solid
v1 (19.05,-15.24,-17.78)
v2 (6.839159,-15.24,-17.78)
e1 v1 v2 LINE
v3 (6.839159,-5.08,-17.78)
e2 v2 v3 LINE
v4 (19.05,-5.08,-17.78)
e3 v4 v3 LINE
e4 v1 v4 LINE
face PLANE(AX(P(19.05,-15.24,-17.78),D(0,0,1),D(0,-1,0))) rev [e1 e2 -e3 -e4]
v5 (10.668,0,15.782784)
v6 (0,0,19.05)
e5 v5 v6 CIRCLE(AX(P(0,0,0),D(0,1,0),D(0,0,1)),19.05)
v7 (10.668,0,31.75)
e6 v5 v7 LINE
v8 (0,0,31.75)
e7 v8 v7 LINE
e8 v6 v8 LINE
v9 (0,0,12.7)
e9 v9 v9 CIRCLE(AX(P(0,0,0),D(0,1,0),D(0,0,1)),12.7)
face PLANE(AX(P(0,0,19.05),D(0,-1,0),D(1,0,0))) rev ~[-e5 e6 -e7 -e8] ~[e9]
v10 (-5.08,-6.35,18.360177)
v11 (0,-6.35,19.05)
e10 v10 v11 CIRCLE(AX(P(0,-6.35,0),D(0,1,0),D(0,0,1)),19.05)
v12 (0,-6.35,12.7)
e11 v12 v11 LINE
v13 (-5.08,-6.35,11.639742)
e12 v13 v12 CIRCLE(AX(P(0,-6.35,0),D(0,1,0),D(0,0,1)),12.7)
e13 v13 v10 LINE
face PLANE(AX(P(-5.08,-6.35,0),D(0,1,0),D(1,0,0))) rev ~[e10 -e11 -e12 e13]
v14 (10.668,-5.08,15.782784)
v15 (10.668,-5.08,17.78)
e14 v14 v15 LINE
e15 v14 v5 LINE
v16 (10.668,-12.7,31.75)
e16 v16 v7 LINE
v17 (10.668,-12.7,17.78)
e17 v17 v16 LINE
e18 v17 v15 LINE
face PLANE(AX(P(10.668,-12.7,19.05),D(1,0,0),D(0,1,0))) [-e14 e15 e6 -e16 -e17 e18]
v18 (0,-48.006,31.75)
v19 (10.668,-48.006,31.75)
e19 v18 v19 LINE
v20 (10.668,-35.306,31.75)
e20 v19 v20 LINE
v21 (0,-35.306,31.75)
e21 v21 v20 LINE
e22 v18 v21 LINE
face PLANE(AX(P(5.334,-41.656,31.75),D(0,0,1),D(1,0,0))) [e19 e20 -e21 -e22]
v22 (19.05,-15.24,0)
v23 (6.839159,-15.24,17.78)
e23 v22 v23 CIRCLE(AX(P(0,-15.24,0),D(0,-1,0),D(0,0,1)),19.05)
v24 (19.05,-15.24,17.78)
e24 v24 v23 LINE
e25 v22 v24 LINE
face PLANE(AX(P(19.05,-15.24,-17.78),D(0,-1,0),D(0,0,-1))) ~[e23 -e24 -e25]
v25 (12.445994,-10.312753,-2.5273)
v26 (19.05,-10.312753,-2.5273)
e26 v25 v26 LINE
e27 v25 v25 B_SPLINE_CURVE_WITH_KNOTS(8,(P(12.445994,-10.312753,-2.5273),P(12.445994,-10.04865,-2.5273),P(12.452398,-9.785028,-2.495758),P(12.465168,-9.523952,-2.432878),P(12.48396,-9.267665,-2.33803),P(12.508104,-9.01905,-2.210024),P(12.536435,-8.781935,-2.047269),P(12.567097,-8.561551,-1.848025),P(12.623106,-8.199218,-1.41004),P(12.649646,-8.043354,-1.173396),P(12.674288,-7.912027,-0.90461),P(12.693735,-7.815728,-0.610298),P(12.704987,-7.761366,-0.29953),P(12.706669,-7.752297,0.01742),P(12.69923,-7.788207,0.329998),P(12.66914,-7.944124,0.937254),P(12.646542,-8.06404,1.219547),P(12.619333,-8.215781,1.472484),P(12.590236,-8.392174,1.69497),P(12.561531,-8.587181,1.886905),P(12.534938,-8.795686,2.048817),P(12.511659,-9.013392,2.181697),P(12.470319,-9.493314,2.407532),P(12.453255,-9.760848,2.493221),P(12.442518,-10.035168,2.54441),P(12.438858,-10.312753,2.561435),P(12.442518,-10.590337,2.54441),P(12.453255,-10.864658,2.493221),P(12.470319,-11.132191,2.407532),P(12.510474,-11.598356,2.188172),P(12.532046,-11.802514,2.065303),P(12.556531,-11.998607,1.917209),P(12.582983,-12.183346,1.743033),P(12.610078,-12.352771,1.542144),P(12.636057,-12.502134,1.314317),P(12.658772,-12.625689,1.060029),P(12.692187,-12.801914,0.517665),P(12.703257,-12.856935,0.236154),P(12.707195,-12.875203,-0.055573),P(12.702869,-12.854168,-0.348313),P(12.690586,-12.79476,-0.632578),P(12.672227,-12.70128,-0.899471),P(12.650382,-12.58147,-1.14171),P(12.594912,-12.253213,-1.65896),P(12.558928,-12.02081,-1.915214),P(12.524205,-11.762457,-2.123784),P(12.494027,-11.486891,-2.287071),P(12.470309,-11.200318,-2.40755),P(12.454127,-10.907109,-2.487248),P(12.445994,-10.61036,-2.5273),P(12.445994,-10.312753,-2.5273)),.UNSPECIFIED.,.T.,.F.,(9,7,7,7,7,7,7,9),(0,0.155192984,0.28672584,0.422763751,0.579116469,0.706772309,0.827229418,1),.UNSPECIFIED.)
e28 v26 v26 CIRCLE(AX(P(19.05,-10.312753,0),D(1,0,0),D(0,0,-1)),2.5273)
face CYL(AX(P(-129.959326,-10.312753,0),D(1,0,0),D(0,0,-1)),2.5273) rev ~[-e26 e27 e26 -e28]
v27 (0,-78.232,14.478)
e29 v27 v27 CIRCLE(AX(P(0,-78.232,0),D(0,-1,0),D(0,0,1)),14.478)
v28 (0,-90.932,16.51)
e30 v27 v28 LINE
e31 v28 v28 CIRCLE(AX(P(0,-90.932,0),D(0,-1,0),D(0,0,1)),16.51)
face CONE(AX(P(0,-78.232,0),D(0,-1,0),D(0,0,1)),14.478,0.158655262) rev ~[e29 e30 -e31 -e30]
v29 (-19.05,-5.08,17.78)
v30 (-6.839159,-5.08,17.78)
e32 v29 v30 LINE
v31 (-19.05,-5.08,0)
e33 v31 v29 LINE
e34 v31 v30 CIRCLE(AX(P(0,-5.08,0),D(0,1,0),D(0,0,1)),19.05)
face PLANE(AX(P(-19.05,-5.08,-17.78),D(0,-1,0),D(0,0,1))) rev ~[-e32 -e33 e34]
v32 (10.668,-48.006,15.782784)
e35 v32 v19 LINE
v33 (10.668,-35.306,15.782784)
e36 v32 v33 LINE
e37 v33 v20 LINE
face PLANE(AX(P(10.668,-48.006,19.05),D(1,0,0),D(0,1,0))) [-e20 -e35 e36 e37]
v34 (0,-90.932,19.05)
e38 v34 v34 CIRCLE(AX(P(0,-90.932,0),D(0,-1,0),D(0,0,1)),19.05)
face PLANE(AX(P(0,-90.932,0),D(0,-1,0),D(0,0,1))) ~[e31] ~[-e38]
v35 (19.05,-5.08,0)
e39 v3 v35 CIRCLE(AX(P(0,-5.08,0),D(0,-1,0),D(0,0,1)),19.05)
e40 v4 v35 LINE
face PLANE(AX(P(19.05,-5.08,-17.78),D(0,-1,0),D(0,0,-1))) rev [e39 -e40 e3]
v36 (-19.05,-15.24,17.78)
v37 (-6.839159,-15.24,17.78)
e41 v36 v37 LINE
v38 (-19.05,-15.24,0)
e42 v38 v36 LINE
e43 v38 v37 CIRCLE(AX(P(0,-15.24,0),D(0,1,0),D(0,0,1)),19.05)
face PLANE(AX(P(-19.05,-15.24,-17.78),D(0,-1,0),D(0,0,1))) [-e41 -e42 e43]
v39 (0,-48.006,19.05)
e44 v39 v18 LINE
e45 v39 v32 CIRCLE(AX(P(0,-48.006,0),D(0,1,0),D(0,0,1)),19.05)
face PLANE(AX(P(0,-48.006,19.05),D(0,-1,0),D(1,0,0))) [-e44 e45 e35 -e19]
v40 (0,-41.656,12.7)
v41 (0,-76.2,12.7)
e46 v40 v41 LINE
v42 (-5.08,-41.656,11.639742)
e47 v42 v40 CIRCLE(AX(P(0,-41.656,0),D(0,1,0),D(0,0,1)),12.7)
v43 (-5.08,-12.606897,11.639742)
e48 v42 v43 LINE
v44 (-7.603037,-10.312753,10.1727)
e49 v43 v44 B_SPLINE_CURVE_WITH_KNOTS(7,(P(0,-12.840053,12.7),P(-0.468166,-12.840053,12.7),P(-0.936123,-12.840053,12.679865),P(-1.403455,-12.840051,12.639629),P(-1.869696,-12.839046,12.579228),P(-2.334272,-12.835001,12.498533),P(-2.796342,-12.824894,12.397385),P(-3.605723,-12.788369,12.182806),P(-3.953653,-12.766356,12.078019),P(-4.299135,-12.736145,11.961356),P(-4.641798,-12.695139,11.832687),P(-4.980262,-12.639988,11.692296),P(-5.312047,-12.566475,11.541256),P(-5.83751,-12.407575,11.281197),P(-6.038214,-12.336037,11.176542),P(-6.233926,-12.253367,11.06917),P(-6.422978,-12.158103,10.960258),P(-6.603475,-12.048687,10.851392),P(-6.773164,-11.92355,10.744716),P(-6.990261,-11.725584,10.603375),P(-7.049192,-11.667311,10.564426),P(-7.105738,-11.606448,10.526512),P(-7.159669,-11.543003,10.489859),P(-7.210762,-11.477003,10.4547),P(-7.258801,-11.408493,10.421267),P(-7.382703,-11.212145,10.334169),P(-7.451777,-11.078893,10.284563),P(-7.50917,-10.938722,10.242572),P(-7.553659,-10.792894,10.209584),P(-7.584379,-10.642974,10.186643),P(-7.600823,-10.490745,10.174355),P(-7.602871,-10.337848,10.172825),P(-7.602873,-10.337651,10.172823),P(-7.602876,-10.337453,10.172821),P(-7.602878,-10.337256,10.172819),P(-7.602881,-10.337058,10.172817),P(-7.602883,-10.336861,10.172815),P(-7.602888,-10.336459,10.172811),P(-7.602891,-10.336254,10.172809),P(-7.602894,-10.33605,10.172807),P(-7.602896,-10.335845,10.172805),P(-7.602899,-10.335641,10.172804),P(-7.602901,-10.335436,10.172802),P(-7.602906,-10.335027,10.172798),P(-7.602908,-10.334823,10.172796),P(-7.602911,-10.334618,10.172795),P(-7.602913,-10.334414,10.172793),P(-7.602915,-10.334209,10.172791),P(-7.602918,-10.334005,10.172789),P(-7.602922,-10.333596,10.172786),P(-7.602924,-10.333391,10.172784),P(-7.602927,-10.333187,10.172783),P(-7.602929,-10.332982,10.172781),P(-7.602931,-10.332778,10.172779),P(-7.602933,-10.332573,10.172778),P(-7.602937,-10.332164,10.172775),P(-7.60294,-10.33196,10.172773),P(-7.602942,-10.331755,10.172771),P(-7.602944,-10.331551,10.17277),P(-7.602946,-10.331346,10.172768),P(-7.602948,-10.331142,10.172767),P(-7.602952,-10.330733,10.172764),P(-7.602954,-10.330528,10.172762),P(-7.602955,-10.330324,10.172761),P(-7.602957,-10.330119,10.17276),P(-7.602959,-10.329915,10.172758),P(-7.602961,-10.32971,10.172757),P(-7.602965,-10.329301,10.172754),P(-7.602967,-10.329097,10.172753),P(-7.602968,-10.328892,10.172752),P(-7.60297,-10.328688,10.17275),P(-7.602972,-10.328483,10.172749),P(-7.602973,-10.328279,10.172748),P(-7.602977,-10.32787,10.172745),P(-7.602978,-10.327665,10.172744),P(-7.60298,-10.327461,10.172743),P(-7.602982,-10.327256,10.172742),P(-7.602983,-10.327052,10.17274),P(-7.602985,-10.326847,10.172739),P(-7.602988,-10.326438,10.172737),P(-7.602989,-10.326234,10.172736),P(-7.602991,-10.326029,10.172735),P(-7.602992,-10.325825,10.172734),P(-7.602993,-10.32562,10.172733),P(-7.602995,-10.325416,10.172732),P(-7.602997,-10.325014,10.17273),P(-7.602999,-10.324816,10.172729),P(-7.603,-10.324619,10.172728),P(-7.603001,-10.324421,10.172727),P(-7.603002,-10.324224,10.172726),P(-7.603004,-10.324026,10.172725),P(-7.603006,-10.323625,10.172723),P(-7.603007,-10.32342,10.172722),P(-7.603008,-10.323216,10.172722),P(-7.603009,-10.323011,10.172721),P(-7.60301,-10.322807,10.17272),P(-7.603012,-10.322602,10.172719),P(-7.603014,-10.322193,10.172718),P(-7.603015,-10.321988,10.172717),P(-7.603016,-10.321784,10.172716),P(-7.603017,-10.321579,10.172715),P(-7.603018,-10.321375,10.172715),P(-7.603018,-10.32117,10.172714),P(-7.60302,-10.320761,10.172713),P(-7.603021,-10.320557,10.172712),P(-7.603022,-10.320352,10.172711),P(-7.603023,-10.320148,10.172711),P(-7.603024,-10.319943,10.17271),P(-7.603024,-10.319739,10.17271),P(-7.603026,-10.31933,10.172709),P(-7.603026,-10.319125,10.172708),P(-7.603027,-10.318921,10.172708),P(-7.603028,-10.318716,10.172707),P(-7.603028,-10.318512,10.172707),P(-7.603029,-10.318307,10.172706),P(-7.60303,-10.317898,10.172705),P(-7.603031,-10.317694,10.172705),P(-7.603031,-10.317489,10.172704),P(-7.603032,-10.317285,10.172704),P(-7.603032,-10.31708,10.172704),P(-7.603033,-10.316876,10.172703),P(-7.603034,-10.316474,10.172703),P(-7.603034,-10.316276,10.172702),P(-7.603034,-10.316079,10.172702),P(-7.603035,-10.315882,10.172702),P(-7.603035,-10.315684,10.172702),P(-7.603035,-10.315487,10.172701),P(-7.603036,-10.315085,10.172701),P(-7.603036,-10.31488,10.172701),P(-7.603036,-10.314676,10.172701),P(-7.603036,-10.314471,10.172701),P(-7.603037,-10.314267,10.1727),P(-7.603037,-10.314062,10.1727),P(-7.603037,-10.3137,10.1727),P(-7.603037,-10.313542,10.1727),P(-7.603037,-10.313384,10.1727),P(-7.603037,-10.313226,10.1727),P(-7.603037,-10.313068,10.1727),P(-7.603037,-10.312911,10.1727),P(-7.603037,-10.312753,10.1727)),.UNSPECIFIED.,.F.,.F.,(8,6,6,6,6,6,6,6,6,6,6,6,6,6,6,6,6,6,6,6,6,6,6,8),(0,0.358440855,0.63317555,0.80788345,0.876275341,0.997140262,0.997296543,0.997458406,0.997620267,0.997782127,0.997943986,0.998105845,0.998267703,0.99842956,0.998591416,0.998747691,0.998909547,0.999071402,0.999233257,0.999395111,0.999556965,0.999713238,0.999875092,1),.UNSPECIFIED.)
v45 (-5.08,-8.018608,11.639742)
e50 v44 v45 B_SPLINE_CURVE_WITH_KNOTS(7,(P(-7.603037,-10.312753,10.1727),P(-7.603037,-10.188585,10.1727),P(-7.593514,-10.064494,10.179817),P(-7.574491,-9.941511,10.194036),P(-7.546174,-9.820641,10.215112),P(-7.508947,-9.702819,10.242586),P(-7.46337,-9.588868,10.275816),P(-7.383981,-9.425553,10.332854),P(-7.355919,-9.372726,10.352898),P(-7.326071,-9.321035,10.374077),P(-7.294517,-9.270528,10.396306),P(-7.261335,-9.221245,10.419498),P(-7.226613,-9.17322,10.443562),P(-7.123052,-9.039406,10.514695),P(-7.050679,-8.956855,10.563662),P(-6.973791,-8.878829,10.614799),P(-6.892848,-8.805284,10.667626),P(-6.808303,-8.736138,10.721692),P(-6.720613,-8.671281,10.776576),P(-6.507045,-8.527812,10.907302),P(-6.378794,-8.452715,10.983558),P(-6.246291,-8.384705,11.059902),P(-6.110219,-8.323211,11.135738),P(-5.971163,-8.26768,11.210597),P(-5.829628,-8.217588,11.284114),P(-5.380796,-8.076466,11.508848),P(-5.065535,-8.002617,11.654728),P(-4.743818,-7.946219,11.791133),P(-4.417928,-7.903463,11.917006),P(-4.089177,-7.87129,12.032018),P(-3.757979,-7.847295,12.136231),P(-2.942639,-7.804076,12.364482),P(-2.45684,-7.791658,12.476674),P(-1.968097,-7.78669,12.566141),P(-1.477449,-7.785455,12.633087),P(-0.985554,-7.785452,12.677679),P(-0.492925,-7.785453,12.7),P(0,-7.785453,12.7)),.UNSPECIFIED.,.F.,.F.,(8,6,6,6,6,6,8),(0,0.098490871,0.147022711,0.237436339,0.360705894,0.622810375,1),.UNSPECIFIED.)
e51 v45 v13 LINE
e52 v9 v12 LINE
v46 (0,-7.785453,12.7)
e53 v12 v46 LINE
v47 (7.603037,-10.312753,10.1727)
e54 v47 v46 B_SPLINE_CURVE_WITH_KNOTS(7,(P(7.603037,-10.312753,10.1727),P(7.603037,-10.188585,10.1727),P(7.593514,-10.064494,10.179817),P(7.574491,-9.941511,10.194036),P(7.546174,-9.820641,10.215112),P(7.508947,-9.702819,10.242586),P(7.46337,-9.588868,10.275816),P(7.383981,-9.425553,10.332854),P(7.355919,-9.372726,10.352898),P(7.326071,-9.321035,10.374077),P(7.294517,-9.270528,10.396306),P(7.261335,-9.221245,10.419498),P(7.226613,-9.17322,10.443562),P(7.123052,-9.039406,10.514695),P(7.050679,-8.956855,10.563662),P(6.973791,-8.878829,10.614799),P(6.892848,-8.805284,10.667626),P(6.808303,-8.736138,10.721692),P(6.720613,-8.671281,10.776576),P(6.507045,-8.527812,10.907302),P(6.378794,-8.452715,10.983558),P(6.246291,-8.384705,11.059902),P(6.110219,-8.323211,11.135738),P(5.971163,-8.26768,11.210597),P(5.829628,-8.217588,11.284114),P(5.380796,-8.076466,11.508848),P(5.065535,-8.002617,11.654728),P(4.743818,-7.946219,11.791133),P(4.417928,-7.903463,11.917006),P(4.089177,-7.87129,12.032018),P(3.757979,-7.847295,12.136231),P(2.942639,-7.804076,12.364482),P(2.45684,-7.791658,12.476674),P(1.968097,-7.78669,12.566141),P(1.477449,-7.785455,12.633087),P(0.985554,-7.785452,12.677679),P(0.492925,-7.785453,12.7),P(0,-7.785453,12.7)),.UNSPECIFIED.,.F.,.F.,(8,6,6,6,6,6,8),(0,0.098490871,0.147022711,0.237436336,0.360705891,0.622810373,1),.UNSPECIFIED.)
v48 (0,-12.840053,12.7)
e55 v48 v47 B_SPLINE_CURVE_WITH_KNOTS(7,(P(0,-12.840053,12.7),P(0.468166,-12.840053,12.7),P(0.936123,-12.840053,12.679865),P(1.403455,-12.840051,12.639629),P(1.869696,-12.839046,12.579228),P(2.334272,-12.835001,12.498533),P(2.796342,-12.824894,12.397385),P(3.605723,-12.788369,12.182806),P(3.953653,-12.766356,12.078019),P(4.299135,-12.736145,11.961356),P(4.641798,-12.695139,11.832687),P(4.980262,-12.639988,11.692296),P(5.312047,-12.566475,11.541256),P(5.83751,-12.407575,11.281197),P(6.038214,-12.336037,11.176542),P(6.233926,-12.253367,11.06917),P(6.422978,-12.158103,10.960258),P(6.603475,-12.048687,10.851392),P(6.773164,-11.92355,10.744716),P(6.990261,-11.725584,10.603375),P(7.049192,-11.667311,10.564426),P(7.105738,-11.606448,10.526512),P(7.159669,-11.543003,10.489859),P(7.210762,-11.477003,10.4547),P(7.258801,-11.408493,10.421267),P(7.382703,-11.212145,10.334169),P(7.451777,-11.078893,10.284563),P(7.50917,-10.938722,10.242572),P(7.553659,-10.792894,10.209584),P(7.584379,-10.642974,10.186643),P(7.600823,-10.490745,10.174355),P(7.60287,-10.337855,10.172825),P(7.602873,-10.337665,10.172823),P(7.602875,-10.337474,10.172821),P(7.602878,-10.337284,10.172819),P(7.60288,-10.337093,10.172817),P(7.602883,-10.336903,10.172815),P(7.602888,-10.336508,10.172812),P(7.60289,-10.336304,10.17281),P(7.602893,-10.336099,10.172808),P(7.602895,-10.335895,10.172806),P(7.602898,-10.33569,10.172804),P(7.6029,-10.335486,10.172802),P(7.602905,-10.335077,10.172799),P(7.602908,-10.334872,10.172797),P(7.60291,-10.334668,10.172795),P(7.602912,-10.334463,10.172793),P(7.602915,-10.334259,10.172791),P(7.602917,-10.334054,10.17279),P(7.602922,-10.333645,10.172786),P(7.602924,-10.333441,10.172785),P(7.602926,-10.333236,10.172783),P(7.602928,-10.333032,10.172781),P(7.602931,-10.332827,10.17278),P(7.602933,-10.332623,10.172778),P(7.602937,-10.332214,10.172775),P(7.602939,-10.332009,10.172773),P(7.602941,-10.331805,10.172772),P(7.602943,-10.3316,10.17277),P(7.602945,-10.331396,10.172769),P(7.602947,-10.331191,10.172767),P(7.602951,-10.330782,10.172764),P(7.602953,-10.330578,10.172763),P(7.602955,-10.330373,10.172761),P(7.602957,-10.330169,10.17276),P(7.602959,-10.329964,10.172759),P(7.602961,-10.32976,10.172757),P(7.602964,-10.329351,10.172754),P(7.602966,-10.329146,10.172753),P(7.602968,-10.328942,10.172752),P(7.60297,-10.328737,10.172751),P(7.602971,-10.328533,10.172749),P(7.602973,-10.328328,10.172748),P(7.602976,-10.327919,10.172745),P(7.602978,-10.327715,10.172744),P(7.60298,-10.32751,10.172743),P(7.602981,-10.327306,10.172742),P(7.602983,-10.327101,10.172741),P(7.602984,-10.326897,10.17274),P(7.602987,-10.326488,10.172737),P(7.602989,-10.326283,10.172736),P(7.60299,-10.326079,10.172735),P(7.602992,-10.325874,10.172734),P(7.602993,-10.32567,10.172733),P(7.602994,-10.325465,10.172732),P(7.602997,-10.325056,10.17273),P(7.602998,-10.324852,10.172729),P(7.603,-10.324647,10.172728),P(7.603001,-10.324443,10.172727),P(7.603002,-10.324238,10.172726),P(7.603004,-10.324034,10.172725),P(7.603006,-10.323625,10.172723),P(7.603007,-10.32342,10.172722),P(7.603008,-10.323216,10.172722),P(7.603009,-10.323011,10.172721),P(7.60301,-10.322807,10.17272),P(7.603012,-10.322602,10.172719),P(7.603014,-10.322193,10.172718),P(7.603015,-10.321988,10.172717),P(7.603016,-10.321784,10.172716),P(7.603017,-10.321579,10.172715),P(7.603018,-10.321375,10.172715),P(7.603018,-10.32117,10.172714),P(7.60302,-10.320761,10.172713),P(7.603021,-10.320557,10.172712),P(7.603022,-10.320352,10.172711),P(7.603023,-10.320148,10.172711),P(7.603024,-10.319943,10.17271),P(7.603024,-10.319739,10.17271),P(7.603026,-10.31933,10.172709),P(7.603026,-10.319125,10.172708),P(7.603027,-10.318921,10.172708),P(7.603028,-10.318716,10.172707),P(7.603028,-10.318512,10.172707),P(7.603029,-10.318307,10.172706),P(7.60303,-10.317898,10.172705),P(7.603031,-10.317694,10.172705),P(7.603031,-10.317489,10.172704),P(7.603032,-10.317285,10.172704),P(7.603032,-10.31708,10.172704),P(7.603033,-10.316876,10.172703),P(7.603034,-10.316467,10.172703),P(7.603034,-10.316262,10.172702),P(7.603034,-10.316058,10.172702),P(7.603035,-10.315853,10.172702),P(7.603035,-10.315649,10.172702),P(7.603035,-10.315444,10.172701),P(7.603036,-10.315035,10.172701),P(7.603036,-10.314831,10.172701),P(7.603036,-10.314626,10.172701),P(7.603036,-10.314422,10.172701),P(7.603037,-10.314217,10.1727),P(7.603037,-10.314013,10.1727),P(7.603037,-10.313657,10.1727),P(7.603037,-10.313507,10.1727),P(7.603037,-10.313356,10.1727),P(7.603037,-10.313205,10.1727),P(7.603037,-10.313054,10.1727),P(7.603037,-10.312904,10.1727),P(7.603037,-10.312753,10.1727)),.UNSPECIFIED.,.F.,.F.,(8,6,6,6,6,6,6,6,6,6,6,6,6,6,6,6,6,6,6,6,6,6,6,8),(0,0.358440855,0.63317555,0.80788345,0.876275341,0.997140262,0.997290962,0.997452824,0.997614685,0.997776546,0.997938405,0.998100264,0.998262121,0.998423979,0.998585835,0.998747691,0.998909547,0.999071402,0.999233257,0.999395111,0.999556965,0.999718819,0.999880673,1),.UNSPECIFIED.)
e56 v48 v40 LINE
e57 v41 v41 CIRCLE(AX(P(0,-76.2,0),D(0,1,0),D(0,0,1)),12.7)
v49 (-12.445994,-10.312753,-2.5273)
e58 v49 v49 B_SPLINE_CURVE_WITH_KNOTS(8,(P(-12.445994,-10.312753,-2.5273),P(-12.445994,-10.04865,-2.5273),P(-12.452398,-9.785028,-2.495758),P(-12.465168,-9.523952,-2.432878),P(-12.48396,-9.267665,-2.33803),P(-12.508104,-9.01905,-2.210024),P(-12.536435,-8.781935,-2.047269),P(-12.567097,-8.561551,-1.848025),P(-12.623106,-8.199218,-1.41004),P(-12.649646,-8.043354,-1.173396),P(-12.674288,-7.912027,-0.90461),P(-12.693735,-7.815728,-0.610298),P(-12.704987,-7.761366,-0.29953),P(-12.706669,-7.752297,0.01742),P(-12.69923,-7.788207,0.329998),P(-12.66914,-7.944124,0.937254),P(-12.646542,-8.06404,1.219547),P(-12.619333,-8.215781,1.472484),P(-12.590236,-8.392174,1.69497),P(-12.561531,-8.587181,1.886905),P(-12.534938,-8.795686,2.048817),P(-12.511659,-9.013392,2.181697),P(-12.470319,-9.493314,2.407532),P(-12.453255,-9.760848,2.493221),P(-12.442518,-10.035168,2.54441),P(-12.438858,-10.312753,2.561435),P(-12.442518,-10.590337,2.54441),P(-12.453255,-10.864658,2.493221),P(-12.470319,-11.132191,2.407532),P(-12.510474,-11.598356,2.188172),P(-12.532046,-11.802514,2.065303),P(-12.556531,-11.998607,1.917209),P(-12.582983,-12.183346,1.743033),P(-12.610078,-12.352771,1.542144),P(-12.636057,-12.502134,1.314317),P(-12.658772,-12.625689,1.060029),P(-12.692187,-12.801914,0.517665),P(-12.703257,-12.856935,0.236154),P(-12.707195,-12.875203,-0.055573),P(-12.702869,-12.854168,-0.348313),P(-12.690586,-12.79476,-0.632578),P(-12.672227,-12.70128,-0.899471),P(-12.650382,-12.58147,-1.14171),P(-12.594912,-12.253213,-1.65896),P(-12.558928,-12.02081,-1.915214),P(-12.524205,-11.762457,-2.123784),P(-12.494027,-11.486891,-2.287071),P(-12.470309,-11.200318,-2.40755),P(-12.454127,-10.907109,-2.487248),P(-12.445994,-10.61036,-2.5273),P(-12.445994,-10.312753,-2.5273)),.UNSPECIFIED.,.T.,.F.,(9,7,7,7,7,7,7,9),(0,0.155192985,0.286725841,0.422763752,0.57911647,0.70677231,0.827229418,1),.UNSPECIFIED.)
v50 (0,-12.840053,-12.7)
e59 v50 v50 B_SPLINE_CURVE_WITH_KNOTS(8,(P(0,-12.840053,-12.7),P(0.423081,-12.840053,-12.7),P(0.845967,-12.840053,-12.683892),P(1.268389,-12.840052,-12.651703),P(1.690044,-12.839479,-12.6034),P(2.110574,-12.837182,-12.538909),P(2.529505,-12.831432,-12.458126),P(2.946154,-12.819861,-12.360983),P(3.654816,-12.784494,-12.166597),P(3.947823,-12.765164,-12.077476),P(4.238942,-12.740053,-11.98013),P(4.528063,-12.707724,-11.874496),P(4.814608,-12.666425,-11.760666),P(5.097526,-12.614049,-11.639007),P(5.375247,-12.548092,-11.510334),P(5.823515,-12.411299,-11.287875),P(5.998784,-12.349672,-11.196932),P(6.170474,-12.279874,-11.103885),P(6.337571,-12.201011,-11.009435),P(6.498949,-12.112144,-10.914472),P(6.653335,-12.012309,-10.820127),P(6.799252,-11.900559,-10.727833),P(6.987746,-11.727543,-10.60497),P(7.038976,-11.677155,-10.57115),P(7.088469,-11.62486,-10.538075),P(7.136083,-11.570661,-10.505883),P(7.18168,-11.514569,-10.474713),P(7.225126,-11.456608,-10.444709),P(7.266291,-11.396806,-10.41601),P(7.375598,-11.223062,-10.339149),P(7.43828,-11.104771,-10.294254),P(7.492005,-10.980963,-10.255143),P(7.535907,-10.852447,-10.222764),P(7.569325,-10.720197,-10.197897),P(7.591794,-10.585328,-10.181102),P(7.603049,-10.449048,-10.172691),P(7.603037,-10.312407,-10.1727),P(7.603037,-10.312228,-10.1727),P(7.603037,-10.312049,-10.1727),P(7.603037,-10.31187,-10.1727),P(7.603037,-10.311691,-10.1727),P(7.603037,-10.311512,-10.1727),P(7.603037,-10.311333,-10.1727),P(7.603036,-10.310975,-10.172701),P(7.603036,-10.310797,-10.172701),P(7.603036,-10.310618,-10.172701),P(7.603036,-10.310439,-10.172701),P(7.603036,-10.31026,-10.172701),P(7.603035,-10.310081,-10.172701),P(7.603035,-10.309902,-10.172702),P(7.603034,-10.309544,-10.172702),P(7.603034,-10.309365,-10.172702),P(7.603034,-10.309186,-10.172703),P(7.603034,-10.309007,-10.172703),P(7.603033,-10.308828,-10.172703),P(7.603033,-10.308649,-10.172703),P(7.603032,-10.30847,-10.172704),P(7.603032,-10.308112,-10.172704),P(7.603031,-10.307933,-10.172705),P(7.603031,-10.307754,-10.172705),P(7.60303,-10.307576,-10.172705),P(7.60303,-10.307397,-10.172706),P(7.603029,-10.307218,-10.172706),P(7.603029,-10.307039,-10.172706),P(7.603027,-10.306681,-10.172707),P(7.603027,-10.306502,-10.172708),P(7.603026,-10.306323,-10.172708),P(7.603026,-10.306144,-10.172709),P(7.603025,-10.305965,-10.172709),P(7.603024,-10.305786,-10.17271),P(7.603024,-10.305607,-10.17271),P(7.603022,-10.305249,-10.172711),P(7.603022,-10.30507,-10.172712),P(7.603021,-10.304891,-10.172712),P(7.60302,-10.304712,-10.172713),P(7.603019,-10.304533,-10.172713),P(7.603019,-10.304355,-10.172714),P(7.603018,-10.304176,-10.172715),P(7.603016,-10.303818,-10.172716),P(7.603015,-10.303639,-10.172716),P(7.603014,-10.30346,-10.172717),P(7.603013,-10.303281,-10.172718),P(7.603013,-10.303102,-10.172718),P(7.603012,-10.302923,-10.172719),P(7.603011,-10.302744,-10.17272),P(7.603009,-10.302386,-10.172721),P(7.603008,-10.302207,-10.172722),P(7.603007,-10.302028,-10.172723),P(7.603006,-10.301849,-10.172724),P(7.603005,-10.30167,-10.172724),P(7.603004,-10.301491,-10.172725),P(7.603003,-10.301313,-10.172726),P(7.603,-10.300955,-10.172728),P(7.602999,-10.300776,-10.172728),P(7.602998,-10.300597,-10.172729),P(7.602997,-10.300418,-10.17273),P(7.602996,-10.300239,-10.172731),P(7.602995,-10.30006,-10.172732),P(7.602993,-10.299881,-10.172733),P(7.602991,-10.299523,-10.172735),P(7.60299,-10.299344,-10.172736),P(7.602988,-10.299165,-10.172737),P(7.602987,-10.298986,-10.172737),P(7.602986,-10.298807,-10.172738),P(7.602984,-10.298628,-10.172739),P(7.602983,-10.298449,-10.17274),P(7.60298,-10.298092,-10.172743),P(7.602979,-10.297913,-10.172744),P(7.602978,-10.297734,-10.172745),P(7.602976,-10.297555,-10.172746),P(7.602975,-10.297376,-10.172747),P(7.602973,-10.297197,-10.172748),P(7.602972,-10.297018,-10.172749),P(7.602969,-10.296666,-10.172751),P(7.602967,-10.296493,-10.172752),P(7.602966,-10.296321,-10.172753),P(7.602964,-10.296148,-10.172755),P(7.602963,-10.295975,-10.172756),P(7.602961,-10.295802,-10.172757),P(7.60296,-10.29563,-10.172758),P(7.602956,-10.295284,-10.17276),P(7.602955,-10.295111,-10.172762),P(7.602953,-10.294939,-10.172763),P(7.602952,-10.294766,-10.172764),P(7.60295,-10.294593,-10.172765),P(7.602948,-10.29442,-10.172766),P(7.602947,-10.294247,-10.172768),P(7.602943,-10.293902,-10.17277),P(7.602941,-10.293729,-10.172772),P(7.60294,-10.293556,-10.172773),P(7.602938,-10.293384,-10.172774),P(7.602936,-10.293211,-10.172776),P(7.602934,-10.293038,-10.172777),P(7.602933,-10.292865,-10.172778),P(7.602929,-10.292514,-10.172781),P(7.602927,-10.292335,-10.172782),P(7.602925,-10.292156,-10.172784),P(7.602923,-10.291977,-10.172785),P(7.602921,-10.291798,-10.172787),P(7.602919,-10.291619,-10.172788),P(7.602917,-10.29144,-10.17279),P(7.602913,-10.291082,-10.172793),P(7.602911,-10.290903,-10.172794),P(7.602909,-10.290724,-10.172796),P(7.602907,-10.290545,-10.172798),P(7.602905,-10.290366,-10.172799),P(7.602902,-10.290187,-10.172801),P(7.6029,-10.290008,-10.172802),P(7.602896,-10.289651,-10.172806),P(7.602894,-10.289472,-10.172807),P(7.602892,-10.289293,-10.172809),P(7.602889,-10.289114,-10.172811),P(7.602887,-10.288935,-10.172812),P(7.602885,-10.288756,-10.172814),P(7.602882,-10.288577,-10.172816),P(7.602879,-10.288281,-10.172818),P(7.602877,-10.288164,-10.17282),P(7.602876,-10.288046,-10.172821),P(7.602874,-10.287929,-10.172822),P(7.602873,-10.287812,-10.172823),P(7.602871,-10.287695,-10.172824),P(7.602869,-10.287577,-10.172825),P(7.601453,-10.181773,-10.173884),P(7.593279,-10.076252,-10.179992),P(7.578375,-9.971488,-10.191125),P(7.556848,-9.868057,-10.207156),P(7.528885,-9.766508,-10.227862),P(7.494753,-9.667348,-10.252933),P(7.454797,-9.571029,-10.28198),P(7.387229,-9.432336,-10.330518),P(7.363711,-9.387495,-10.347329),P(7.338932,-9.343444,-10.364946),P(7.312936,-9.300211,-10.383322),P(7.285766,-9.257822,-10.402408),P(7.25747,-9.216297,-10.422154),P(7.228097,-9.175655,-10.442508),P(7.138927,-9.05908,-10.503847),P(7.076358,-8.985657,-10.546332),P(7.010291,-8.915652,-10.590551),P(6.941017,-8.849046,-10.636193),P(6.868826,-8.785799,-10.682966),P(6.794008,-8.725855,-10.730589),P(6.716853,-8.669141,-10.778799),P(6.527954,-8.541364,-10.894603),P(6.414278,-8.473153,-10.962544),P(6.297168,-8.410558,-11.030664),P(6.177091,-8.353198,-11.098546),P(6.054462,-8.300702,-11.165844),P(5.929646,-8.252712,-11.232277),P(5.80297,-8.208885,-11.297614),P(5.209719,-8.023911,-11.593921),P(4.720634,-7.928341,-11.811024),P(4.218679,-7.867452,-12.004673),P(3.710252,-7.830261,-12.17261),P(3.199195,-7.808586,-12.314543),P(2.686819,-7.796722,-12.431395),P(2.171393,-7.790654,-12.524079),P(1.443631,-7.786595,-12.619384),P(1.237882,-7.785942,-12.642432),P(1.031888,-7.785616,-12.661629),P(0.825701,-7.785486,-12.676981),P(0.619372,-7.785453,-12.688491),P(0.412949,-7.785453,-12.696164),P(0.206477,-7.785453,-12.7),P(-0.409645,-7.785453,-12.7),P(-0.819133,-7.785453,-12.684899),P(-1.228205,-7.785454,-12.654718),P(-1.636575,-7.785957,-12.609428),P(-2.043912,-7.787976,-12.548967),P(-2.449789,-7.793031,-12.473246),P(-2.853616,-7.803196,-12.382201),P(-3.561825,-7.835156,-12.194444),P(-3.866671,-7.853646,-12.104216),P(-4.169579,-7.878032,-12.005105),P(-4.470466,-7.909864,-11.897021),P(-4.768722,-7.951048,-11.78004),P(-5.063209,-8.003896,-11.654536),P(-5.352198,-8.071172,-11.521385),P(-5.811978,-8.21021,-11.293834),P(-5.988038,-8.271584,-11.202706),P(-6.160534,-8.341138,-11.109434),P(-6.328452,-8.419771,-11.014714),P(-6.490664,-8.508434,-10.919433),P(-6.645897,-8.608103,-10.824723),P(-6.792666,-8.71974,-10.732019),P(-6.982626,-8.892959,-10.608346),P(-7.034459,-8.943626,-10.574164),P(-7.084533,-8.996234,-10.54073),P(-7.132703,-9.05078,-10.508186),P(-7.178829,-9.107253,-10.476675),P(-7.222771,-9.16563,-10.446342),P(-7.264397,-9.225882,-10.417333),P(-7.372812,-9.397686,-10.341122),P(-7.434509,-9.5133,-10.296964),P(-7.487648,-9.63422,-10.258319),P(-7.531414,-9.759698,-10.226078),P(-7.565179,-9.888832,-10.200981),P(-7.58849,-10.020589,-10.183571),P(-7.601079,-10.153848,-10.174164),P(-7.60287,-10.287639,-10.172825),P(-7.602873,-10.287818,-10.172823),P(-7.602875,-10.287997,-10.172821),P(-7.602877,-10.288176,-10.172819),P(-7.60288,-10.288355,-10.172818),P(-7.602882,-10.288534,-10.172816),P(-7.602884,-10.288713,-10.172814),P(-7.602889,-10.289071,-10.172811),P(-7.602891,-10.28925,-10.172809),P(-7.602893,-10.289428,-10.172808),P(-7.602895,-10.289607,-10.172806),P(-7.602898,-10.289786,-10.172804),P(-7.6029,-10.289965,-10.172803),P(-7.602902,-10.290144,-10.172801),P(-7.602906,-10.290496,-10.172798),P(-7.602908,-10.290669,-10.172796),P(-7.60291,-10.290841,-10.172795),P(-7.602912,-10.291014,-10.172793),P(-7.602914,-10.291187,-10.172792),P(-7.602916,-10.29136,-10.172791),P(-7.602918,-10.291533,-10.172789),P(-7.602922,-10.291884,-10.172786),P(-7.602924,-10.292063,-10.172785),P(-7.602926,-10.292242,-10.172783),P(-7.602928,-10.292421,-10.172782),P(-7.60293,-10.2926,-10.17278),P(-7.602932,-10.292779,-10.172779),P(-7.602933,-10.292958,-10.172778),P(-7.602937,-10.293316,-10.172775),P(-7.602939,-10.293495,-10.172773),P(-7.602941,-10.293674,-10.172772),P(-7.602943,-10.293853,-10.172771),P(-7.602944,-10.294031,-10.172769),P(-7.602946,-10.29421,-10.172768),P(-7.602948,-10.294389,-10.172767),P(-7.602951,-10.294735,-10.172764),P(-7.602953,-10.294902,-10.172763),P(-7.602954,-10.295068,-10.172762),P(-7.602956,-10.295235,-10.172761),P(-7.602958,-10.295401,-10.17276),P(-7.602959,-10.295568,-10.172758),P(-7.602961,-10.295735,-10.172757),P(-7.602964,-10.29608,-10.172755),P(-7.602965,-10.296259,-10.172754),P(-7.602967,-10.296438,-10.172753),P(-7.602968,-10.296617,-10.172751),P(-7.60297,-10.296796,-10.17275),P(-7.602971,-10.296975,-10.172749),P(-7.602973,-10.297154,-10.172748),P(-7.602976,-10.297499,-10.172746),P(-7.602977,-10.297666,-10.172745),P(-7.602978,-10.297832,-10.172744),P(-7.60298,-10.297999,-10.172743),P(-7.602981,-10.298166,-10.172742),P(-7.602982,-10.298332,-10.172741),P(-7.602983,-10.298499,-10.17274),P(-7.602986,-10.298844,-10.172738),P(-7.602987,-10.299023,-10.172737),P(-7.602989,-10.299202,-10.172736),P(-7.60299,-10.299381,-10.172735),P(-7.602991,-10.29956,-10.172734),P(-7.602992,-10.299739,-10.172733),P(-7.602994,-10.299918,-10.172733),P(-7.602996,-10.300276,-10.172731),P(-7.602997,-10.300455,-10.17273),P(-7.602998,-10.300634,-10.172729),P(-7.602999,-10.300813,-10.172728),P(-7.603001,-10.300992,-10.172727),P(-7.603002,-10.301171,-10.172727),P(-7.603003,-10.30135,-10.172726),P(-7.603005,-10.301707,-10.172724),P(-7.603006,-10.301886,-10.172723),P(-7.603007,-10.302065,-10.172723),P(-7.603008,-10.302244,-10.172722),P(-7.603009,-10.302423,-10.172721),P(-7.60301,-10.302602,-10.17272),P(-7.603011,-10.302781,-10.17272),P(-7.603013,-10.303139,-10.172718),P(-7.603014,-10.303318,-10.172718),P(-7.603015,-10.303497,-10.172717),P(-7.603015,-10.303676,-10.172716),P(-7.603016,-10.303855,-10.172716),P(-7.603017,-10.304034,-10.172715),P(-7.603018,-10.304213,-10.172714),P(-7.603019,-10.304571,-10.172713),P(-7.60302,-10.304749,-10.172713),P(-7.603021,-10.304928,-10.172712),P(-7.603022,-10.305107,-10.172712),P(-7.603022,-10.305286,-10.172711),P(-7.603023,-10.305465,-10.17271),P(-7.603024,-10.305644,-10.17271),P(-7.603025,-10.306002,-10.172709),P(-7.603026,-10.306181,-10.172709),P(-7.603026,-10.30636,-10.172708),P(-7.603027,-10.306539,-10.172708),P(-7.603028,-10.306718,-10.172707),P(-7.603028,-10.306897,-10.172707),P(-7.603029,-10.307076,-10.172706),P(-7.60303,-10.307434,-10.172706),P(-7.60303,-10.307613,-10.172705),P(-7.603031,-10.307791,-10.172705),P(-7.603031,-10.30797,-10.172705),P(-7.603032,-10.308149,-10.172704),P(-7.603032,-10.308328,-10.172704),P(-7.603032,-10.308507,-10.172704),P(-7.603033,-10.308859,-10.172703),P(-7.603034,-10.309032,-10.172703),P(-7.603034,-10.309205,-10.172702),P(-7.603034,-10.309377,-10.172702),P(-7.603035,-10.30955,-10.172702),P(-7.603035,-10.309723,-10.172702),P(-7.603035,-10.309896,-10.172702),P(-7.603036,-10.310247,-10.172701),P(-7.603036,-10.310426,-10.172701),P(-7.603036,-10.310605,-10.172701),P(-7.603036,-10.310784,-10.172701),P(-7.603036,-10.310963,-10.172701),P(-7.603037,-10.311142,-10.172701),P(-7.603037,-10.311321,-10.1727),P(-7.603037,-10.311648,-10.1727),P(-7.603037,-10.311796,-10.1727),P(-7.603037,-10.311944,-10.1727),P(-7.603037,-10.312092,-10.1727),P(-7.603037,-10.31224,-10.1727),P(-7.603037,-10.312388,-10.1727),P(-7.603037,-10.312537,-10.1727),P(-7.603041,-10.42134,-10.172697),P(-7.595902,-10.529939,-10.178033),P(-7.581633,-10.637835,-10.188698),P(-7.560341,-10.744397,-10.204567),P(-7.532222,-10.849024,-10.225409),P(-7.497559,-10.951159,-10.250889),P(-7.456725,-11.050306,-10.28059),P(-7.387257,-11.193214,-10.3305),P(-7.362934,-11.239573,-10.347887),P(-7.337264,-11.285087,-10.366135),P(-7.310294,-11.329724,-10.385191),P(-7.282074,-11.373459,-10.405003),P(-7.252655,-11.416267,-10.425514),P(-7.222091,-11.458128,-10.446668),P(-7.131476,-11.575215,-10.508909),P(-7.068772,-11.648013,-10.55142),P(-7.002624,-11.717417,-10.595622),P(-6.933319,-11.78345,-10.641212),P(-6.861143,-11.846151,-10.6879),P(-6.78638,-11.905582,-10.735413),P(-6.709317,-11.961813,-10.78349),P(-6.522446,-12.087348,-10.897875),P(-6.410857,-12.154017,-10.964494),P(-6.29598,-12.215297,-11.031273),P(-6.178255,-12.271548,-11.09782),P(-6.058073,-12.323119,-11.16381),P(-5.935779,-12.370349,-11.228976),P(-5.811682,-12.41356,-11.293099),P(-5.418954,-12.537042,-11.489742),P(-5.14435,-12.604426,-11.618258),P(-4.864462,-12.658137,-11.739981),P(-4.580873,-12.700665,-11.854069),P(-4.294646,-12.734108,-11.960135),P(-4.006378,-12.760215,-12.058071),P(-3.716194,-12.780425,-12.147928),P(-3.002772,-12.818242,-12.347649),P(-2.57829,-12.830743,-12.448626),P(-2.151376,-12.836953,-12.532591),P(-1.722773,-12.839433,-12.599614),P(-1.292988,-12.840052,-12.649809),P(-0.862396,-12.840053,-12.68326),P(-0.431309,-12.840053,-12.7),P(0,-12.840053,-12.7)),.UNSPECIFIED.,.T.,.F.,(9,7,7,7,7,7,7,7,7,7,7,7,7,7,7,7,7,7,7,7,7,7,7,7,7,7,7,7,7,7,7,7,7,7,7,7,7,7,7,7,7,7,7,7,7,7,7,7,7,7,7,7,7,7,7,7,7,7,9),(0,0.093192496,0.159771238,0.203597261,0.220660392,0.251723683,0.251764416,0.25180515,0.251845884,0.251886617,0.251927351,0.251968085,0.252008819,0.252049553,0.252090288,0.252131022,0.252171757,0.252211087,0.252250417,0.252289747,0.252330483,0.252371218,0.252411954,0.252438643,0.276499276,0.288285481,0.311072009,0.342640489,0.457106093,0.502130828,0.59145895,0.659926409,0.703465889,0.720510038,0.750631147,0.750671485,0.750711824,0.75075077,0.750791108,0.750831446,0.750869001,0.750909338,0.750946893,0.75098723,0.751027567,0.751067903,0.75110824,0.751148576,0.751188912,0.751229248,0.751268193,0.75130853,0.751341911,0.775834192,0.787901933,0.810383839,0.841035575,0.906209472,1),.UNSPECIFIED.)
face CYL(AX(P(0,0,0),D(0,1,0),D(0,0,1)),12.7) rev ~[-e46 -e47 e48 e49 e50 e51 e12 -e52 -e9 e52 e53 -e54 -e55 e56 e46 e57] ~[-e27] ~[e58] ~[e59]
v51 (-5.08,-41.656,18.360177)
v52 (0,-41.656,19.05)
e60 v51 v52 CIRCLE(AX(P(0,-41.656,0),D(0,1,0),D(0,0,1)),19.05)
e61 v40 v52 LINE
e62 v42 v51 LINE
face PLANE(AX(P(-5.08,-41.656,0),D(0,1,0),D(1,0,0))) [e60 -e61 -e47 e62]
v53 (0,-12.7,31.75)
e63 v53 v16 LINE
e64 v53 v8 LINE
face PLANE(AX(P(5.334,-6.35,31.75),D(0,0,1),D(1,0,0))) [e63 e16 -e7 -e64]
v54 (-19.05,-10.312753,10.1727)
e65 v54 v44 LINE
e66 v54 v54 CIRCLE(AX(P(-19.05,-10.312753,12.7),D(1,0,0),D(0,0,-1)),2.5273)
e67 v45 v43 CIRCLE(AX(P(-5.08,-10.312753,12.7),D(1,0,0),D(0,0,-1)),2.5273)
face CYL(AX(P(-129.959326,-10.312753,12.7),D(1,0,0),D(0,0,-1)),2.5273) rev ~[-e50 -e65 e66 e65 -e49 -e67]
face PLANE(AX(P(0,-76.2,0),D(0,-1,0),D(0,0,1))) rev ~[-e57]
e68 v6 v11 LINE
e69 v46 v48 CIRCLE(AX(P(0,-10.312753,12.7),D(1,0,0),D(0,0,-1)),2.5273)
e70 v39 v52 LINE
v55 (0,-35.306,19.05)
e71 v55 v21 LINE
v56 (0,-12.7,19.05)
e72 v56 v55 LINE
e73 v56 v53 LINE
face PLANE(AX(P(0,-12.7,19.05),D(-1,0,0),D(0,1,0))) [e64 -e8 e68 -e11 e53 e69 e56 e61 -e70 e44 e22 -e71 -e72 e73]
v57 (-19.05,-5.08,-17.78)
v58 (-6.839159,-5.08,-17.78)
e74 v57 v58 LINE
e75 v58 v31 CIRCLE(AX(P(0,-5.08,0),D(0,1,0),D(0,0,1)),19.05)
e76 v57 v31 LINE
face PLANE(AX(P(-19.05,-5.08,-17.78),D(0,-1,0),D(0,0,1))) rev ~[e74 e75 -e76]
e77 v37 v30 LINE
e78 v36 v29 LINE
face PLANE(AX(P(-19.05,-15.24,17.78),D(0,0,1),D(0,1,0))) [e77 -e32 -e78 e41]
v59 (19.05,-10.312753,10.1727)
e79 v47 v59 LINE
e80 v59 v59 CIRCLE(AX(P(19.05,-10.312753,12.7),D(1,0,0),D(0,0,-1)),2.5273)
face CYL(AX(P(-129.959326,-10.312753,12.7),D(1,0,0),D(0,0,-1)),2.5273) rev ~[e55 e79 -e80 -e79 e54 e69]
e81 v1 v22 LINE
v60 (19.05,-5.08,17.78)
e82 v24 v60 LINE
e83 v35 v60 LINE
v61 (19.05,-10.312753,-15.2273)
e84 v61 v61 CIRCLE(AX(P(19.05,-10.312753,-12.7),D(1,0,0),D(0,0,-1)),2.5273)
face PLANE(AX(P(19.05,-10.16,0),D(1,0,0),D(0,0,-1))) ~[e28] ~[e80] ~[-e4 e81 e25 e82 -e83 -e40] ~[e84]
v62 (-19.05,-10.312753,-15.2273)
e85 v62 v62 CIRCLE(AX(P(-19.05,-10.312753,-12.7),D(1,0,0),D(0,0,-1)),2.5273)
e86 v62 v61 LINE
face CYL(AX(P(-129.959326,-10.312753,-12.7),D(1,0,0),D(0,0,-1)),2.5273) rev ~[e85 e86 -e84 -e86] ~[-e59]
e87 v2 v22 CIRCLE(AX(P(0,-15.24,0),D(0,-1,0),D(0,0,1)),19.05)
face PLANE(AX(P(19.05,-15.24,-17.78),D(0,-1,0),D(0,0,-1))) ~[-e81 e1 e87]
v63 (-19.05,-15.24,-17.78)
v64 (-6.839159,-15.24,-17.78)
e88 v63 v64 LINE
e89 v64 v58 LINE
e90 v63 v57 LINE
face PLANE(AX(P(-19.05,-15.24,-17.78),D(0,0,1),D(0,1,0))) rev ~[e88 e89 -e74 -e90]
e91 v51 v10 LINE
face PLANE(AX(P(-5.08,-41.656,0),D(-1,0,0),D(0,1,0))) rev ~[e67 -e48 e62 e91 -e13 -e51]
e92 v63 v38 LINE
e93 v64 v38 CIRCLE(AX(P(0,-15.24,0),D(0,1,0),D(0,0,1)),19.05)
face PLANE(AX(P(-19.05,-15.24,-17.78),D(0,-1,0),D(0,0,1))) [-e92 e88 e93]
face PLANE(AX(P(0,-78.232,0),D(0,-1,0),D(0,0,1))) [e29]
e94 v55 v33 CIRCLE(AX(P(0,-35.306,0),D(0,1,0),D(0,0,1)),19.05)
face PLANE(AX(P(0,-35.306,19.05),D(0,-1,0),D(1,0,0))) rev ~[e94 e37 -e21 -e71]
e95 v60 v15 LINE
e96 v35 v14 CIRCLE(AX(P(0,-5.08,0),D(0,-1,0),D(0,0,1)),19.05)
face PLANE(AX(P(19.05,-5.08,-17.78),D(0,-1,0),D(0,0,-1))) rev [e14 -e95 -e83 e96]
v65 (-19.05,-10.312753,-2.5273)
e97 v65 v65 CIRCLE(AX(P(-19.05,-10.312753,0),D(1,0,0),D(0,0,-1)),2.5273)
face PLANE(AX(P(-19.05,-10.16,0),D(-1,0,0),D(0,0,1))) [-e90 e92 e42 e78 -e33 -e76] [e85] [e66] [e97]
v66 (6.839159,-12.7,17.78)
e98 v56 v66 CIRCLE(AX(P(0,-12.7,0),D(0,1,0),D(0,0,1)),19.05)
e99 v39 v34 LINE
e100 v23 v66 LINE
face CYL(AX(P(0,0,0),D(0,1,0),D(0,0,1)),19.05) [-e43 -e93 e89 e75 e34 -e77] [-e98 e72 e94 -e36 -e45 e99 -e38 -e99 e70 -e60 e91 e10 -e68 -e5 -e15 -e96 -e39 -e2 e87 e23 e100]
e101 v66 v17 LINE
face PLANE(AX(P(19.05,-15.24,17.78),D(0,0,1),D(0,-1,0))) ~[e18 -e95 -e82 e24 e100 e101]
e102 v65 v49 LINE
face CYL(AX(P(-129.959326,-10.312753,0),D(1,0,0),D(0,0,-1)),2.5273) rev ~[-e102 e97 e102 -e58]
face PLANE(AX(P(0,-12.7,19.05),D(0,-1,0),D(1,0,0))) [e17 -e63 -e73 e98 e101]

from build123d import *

# Parameters (mm, degrees)
SKETCH1_R                            = 19.05
SKETCH1_R_2                          = 12.7
BOSS_EXTRUDE1_DEPTH                  = 76.2
SKETCH2_W                            = 10.668
SKETCH2_H                            = 12.7
BOSS_EXTRUDE2_DEPTH                  = 12.7
BOSS_EXTRUDE2_DIRECTION_2_REACH      = 89.298
BOSS_EXTRUDE2_DIRECTION_2_END_RADIUS = 19.05
SKETCH3_R                            = 19.05
BOSS_EXTRUDE3_DEPTH                  = 2.032
SKETCH4_W                            = 5.08
SKETCH4_H                            = 35.306
CUT_EXTRUDE1_DEPTH                   = 87.551781172
BOSS_EXTRUDE4_REACH                  = 105.578
BOSS_EXTRUDE4_END_RADIUS             = 19.05
SKETCH7_W                            = 35.56
SKETCH7_H                            = 10.16
F_8_0_199_DIAMETER_HOLE1_D           = 5.0546


with BuildPart() as part:
    # Sketch1 → Boss-Extrude1 (new body)
    with BuildSketch(Plane(origin=(0, 0, 0), x_dir=(1, 0, 0), z_dir=(0, 1, 0))):
        with Locations(Location((0, 0, 0), (0, 0, 270))):
            Circle(SKETCH1_R)
        with Locations(Location((0, 0, 0), (0, 0, 270))):
            Circle(SKETCH1_R_2, mode=Mode.SUBTRACT)
    extrude(amount=-BOSS_EXTRUDE1_DEPTH)

    # Sketch2 → Boss-Extrude2 (add)
    with BuildSketch(Plane.XY.offset(19.05)):
        with Locations((5.334, -6.35)):
            Rectangle(SKETCH2_W, SKETCH2_H)
        with Locations((5.334, -41.656)):
            Rectangle(SKETCH2_W, SKETCH2_H)
    extrude(amount=BOSS_EXTRUDE2_DEPTH)

    # Boss-Extrude2 direction 2: up to this cylinder (the profile starts outside it)
    boss_extrude2_direction_2_end = Plane(origin=(0, -24.003, 0), z_dir=(0, 1, 0)) * Cylinder(BOSS_EXTRUDE2_DIRECTION_2_END_RADIUS, 253.002, mode=Mode.PRIVATE)
    # Sketch2 → Boss-Extrude2 direction 2 (add, up to the surface)
    with BuildSketch(Plane.XY.offset(19.05), mode=Mode.PRIVATE) as boss_extrude2_direction_2_sk1:
        with Locations((5.334, -6.35)):
            Rectangle(SKETCH2_W, SKETCH2_H)
    boss_extrude2_direction_2_tool1 = extrude(boss_extrude2_direction_2_sk1.sketch, amount=-BOSS_EXTRUDE2_DIRECTION_2_REACH, mode=Mode.PRIVATE) - boss_extrude2_direction_2_end
    add(boss_extrude2_direction_2_tool1.solids().sort_by_distance((5.334, -6.35, 19.05))[0])
    # Sketch2 → Boss-Extrude2 direction 2 (add, up to the surface)
    with BuildSketch(Plane.XY.offset(19.05), mode=Mode.PRIVATE) as boss_extrude2_direction_2_sk2:
        with Locations((5.334, -41.656)):
            Rectangle(SKETCH2_W, SKETCH2_H)
    boss_extrude2_direction_2_tool2 = extrude(boss_extrude2_direction_2_sk2.sketch, amount=-BOSS_EXTRUDE2_DIRECTION_2_REACH, mode=Mode.PRIVATE) - boss_extrude2_direction_2_end
    add(boss_extrude2_direction_2_tool2.solids().sort_by_distance((5.334, -41.656, 19.05))[0])

    # Sketch3 → Boss-Extrude3 (add)
    with BuildSketch(Plane.XZ.offset(76.2)):
        with Locations(Location((0, 0, 0), (0, 0, 90))):
            Circle(SKETCH3_R)
    extrude(amount=BOSS_EXTRUDE3_DEPTH)

    # Sketch4 → Cut-Extrude1 (cut, through all)
    with BuildSketch(Plane.XY):
        with Locations((-2.54, -24.003)):
            Rectangle(SKETCH4_W, SKETCH4_H)
    extrude(amount=CUT_EXTRUDE1_DEPTH, mode=Mode.SUBTRACT)

    # Sketch6 → Revolve2 (revolve)
    with BuildSketch(Plane.XY, mode=Mode.PRIVATE) as revolve2_sk:
        Polygon((-14.478, -78.232), (-16.51, -90.932), (-19.05, -90.932), (-19.05, -78.232), align=None)
    revolve(revolve2_sk.sketch.rotate(Axis((0, -78.232, 0), (0, -1, 0)), 270), axis=Axis((0, -78.232, 0), (0, -1, 0)))

    # Boss-Extrude4: up to this cylinder (the profile starts outside it)
    boss_extrude4_end = Plane(origin=(0, -10.16, 0), z_dir=(0, 1, 0)) * Cylinder(BOSS_EXTRUDE4_END_RADIUS, 250.256, mode=Mode.PRIVATE)
    # Sketch7 → Boss-Extrude4 (add, up to the surface)
    with BuildSketch(Plane.ZY.offset(19.05), mode=Mode.PRIVATE) as boss_extrude4_sk1:
        with Locations((0, -10.16)):
            Rectangle(SKETCH7_W, SKETCH7_H)
    boss_extrude4_tool1 = extrude(boss_extrude4_sk1.sketch, amount=-BOSS_EXTRUDE4_REACH, mode=Mode.PRIVATE) - boss_extrude4_end
    boss_extrude4 = boss_extrude4_tool1.solids().sort_by_distance((-19.05, -10.16, 0))[0] + boss_extrude4_tool1.solids().sort_by_distance((-19.05, -10.16, 0))[1]
    add(boss_extrude4)

    # Mirror1: Boss-Extrude4 across plane
    add(boss_extrude4.mirror(Plane(origin=(0, 0, 0), x_dir=(0, 0, 1), z_dir=(1, 0, 0))))

    # #8 (0.199) Diameter Hole1 (through all)
    with Locations(Plane.ZY.offset(19.05)):
        with Locations((0, -10.312752813), (12.7, -10.312752813), (-12.7, -10.312752813)):
            Hole(F_8_0_199_DIAMETER_HOLE1_D / 2)


solid = part.part
